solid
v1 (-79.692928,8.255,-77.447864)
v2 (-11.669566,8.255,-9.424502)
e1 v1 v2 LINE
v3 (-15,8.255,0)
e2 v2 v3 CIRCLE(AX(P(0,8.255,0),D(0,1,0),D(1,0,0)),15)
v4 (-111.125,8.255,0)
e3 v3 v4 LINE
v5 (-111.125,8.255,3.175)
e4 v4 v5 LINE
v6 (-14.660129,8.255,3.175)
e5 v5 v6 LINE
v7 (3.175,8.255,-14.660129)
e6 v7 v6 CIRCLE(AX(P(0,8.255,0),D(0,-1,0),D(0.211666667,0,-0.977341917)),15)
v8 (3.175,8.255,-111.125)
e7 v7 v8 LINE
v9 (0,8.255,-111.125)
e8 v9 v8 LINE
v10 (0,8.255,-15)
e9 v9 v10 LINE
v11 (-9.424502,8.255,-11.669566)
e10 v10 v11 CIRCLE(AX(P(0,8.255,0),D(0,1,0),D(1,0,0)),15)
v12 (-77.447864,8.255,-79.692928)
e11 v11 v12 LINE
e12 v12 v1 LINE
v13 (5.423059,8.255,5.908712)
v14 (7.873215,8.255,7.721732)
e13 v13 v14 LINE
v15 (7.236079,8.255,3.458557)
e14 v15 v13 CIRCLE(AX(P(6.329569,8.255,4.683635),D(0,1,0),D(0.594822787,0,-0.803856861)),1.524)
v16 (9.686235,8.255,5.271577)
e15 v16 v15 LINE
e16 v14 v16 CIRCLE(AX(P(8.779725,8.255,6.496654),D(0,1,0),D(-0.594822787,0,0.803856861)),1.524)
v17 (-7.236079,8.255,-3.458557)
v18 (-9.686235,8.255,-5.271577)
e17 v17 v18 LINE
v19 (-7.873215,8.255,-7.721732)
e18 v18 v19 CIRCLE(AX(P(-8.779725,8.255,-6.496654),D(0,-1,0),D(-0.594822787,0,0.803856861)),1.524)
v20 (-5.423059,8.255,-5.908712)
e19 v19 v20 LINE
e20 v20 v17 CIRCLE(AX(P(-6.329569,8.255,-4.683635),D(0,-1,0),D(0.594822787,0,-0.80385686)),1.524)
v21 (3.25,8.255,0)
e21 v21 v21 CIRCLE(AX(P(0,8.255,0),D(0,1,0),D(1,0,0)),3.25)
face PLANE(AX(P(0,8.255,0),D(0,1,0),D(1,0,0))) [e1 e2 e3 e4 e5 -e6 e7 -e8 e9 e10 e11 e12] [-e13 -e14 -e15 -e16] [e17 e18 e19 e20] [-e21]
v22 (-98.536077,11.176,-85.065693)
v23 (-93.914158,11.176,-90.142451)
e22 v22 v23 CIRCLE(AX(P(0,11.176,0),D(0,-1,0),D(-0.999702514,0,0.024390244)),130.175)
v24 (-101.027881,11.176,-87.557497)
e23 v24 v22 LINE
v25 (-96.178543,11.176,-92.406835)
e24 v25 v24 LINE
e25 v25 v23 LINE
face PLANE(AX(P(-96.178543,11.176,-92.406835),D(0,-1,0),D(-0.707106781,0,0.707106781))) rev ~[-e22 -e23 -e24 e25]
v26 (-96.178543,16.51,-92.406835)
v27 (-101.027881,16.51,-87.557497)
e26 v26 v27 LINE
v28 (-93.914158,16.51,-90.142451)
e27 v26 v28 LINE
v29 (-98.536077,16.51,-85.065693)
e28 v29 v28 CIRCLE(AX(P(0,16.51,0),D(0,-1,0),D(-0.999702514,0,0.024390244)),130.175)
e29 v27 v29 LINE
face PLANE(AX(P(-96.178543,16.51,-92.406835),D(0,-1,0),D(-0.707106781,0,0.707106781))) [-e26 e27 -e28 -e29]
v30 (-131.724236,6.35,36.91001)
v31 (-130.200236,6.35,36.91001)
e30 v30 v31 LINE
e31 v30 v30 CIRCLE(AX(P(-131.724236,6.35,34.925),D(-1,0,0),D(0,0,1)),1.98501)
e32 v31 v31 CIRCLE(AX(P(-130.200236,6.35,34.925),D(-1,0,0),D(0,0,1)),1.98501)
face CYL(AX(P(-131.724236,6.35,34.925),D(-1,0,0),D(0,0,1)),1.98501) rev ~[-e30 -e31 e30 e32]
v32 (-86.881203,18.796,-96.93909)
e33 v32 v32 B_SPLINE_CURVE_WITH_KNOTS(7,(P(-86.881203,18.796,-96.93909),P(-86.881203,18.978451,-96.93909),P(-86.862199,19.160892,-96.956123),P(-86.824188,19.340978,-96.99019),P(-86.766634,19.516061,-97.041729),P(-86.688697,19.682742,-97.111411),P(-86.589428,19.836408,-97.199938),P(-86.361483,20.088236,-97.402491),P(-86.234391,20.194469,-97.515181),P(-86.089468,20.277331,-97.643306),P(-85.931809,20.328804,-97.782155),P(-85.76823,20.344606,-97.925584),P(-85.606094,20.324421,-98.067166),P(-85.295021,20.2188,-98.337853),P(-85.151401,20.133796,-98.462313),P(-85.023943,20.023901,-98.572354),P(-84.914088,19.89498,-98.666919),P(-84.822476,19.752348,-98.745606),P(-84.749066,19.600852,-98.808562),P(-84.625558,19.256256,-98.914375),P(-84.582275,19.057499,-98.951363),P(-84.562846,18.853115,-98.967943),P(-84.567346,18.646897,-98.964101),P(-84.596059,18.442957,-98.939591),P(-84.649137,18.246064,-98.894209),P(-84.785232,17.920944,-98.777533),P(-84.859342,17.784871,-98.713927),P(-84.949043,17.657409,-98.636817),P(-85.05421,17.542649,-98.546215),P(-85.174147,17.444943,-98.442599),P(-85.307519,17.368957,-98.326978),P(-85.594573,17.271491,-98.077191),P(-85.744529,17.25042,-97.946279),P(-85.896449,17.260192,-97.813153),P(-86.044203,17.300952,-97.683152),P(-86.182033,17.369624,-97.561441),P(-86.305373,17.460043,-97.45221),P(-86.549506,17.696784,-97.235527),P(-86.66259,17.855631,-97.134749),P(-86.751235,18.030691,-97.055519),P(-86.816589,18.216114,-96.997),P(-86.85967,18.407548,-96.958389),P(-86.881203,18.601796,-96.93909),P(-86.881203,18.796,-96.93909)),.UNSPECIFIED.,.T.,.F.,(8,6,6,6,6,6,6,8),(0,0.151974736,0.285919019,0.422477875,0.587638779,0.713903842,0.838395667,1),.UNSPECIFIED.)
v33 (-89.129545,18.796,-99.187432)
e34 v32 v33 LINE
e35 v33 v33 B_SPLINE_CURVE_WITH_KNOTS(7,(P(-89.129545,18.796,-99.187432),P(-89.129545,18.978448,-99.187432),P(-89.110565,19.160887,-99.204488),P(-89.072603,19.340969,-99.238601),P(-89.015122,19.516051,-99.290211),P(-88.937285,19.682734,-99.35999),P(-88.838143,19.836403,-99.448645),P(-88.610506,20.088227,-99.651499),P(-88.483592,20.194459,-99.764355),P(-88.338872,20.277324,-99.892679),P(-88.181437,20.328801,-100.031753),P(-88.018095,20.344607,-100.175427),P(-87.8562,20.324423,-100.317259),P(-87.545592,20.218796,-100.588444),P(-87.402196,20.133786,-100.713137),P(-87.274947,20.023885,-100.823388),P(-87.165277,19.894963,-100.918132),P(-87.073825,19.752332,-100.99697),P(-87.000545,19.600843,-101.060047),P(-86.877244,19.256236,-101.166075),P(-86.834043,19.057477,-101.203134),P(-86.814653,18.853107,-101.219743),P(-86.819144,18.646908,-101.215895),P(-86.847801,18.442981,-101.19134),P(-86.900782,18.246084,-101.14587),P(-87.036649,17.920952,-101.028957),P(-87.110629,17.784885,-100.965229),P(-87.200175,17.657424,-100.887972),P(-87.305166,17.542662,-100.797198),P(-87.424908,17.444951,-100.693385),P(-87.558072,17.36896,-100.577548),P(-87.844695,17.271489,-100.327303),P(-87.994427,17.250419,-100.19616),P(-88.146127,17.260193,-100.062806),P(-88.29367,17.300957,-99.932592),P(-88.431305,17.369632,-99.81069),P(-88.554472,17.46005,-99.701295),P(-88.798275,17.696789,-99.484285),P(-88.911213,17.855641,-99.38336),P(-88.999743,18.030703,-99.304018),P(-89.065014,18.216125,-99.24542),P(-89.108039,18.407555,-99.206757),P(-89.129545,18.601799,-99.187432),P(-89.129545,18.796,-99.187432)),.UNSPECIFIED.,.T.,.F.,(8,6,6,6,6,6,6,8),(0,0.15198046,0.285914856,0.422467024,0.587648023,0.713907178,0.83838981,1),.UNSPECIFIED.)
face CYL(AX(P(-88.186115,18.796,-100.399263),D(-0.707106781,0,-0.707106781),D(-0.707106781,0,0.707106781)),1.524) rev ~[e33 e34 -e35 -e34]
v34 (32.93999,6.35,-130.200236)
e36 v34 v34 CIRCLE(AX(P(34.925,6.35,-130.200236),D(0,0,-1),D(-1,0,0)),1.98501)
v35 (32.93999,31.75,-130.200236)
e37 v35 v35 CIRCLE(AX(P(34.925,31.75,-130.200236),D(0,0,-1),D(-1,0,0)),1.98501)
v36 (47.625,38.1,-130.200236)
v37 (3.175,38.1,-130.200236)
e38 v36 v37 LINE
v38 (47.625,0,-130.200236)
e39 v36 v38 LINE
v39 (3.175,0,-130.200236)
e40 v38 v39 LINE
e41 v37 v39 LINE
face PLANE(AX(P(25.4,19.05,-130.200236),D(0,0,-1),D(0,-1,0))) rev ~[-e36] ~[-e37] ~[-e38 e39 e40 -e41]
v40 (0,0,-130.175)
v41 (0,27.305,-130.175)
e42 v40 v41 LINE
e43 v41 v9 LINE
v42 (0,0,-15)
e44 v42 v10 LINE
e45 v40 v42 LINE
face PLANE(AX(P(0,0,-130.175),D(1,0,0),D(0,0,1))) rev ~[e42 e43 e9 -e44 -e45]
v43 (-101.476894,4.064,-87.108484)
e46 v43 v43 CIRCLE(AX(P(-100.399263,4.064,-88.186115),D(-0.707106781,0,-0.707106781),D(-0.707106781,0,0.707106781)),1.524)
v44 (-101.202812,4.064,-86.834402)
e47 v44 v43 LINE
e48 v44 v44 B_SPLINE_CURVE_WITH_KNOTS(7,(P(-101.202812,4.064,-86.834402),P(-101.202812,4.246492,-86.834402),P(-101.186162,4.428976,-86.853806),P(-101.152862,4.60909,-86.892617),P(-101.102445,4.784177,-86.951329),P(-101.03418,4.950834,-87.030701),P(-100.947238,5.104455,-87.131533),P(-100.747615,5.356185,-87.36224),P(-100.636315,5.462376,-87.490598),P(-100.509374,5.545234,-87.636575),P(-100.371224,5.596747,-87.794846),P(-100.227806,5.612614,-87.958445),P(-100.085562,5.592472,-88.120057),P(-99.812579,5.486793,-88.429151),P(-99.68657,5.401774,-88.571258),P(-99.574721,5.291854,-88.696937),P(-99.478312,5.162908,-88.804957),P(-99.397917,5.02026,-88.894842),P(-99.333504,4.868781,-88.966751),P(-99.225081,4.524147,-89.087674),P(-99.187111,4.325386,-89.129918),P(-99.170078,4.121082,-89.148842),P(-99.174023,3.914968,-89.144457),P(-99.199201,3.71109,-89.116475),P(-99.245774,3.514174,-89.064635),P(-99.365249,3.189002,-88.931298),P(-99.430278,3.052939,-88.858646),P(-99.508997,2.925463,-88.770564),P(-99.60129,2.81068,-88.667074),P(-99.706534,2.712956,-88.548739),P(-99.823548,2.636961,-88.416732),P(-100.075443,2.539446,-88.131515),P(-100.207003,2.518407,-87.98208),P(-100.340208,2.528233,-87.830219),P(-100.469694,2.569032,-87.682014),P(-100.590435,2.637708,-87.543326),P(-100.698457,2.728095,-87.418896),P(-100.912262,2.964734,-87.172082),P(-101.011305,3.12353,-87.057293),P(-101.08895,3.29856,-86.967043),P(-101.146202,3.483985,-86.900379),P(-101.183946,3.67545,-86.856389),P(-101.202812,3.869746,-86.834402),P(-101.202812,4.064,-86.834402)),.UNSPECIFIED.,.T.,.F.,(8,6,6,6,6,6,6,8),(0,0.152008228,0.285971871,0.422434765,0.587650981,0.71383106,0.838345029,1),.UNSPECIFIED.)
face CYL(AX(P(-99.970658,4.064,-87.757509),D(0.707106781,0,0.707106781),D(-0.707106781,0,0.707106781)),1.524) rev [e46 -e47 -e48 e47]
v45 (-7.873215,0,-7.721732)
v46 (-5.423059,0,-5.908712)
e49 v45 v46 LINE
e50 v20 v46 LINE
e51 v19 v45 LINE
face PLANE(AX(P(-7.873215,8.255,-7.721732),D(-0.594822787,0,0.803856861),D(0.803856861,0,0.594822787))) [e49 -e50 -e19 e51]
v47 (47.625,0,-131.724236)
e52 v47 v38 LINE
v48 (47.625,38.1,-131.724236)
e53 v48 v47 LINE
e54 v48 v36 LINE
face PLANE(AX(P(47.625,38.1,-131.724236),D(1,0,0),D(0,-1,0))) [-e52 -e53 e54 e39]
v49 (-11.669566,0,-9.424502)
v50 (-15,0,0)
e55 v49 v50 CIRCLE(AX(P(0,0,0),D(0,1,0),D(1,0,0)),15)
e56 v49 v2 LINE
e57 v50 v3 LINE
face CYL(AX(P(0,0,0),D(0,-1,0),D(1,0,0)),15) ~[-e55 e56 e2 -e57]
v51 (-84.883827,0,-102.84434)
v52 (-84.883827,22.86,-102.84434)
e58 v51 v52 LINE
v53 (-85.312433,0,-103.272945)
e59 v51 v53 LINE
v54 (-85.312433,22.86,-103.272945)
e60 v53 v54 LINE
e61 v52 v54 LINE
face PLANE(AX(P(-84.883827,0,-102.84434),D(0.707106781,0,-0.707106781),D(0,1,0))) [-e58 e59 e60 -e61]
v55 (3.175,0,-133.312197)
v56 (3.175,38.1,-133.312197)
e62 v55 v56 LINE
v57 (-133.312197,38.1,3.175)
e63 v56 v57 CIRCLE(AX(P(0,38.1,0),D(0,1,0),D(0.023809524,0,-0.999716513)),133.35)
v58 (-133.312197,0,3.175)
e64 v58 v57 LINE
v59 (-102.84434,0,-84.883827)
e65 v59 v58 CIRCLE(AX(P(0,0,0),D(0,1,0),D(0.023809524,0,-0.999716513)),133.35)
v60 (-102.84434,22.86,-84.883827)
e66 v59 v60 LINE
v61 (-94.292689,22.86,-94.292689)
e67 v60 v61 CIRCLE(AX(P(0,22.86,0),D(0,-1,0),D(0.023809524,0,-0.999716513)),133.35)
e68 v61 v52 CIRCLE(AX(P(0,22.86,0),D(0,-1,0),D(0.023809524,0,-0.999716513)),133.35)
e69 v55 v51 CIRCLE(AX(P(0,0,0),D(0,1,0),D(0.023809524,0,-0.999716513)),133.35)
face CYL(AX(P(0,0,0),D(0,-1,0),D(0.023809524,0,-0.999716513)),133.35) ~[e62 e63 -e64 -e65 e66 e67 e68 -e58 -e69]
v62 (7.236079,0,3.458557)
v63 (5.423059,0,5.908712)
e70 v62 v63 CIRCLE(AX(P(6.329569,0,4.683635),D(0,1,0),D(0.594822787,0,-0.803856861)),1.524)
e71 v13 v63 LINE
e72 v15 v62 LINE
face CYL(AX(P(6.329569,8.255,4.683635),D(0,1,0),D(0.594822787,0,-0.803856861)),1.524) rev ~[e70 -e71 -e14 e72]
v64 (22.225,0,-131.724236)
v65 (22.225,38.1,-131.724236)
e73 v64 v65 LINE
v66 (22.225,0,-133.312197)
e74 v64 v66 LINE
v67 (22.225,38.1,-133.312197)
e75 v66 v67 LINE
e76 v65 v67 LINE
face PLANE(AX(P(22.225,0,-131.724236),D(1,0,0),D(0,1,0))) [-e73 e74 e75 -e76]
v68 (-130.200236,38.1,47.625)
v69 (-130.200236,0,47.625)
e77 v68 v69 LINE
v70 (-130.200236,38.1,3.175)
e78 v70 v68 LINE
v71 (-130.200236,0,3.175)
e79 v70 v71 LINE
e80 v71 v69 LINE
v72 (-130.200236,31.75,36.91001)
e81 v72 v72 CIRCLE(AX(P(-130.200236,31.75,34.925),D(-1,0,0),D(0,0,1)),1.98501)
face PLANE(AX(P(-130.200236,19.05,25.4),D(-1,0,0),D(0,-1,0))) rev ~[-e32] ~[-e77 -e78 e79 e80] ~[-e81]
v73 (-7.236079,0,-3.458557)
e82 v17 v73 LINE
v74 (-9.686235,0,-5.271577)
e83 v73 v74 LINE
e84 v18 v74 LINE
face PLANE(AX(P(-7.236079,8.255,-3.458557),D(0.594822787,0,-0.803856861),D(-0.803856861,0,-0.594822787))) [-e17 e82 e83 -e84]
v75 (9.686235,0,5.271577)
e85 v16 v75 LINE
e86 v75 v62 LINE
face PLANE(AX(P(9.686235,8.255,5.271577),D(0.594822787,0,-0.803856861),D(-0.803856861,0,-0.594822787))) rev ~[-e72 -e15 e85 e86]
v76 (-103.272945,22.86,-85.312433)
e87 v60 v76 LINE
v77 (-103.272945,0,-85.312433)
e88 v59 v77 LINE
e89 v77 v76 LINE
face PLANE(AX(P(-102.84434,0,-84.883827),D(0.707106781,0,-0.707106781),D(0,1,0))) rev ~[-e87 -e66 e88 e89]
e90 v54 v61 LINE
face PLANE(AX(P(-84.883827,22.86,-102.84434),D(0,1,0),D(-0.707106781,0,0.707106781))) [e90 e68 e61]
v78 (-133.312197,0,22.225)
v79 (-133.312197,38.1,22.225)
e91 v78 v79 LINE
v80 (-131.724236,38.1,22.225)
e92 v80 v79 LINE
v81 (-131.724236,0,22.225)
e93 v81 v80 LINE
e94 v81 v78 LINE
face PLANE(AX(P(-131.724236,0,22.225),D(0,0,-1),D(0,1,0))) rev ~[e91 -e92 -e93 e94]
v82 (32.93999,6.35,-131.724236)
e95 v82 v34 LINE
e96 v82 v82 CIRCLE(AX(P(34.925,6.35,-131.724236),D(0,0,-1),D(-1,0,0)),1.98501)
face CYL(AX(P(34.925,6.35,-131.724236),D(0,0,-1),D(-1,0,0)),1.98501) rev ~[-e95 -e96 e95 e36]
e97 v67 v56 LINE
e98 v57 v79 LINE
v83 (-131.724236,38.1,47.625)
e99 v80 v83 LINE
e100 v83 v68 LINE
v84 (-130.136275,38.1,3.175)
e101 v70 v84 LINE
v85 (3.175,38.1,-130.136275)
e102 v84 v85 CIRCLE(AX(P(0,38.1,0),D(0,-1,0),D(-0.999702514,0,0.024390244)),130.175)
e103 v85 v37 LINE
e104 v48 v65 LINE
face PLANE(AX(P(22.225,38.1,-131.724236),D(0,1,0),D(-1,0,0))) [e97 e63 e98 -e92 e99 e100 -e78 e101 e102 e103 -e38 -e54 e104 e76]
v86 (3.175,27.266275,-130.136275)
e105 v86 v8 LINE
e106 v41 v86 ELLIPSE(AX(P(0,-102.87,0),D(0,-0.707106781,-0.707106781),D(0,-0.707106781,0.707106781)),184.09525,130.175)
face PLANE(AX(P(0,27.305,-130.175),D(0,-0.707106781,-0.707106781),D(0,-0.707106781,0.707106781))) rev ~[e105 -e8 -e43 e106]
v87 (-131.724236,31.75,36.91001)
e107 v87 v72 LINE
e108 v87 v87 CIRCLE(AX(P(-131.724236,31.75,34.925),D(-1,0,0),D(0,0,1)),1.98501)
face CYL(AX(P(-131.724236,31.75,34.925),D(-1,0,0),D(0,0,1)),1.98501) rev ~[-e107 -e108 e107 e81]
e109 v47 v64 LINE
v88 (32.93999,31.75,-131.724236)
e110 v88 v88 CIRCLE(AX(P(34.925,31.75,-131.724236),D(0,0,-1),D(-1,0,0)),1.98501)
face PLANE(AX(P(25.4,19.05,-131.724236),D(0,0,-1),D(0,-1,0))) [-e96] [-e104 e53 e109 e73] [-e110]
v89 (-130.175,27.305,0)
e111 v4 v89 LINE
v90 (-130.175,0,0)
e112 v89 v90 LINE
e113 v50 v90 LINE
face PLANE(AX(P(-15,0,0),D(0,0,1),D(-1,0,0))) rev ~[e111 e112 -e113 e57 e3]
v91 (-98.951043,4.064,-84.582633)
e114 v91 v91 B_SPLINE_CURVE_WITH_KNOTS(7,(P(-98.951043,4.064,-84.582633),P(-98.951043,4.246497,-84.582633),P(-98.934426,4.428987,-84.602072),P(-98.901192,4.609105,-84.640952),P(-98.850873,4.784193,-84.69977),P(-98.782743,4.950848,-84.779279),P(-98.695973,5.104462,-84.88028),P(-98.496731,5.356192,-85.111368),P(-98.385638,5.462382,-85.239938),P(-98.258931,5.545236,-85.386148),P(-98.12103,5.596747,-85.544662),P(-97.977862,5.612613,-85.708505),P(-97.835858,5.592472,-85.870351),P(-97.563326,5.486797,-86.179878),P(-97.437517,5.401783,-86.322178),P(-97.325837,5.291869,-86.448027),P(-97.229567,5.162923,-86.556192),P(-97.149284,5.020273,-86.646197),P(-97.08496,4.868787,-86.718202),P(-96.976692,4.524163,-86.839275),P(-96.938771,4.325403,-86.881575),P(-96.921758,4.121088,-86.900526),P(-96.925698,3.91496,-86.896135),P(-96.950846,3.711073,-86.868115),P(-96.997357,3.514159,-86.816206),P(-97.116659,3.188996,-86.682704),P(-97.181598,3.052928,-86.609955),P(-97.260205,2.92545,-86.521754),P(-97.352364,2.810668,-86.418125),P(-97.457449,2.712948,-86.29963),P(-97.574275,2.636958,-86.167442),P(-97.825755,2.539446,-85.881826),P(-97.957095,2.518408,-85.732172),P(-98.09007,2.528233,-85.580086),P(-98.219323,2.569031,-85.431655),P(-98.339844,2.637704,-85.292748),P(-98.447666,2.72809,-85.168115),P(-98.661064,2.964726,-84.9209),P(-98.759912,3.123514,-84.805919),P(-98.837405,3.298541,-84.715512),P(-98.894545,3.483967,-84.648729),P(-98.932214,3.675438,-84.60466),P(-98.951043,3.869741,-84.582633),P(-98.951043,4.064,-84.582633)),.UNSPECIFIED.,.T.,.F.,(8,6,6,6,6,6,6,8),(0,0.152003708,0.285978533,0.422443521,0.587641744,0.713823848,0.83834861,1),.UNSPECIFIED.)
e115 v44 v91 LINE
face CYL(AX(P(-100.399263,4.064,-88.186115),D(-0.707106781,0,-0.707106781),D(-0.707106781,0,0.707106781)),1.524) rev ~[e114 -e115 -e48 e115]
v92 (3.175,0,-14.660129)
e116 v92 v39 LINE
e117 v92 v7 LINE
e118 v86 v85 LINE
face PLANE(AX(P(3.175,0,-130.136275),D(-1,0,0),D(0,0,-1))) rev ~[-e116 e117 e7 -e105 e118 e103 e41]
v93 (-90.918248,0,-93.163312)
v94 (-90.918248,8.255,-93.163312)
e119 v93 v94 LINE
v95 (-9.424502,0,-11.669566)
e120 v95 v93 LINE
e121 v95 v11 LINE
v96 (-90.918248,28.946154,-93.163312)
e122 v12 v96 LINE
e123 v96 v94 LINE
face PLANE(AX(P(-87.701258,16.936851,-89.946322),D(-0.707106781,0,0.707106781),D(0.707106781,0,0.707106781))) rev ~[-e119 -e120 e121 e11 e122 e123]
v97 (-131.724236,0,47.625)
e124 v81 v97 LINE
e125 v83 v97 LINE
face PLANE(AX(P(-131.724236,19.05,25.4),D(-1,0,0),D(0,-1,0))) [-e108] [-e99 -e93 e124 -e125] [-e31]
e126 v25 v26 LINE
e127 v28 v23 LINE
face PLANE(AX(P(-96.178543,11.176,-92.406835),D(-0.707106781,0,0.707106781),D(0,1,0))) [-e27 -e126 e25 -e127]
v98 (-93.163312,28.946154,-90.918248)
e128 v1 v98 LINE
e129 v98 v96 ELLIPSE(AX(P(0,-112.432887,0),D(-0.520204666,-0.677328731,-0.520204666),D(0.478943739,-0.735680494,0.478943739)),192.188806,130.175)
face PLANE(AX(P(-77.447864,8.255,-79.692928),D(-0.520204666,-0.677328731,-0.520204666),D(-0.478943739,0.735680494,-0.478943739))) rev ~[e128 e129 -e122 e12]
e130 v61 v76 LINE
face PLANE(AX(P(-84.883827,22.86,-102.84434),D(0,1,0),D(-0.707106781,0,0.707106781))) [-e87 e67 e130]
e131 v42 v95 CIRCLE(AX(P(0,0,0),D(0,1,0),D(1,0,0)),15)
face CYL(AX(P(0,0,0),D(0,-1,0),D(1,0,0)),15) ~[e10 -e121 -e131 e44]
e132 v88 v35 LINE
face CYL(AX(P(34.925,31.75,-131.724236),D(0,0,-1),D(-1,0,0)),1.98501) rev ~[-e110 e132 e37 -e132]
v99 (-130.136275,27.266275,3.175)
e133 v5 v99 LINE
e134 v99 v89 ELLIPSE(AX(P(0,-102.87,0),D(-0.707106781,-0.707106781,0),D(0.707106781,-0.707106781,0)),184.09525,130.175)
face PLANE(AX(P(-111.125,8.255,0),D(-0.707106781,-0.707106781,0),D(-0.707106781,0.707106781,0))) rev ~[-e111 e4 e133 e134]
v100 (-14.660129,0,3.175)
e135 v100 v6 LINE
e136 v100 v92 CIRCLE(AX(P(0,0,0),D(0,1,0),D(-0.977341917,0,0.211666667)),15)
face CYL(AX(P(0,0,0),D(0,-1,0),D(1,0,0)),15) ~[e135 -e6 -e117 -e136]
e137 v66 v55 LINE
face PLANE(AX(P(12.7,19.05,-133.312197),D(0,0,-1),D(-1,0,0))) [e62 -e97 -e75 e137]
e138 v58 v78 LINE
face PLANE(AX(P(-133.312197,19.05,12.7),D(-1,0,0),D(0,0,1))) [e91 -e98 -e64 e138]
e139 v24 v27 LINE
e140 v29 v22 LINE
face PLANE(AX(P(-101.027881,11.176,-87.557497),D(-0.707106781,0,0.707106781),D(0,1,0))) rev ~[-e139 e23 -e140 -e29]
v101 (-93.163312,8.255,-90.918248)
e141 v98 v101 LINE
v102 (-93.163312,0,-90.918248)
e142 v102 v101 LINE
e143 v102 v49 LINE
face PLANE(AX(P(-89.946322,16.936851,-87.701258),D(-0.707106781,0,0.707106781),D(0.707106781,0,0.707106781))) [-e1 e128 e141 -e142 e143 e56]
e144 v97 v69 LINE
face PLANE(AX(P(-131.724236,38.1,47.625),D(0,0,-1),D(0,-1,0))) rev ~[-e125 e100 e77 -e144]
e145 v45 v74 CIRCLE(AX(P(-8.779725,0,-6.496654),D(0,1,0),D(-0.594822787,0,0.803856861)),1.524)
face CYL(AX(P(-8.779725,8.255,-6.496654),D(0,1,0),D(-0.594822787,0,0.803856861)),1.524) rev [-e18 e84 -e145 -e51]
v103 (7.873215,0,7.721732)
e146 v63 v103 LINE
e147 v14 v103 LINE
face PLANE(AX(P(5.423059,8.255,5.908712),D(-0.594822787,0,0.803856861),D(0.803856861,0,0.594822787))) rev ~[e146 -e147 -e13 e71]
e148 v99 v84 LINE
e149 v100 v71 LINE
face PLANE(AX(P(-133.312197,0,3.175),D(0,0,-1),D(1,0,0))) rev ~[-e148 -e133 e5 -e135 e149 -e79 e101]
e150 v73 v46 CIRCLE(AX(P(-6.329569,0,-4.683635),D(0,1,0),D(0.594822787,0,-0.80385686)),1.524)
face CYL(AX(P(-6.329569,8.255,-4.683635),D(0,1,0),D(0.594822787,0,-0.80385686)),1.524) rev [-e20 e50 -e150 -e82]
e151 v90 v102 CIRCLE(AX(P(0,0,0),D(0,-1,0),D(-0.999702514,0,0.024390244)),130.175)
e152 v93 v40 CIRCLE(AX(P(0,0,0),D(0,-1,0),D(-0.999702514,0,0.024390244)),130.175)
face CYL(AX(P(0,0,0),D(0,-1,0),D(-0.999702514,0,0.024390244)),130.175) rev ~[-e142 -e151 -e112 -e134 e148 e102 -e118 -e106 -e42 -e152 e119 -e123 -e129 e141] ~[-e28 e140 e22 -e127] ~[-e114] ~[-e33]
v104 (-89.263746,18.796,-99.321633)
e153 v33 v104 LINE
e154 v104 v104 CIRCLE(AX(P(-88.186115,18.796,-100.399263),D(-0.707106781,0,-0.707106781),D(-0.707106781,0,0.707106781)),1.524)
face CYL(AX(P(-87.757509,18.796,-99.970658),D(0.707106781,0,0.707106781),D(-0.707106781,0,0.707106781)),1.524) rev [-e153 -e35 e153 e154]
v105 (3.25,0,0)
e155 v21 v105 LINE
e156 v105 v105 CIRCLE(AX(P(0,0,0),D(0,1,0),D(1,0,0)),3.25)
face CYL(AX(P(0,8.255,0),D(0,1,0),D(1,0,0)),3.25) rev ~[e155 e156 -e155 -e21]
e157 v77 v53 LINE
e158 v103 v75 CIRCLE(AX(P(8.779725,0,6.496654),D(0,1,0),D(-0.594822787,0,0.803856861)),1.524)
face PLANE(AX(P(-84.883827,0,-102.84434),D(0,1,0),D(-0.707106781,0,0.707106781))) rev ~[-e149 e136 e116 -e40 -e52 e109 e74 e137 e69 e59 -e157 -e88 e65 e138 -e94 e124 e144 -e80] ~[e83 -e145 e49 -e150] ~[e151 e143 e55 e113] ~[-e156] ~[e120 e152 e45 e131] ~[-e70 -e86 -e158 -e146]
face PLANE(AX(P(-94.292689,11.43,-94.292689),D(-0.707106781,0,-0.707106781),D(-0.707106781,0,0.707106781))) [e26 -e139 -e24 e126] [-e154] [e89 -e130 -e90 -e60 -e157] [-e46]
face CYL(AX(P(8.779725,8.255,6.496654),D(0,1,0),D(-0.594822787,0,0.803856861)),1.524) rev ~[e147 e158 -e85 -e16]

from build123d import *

# Parameters (mm, degrees)
SKETCH1_R            = 15
BOSS_EXTRUDE2_DEPTH  = 8.255
BOSS_EXTRUDE3_DEPTH  = 8.255
BOSS_EXTRUDE4_DEPTH  = 38.1
SKETCH5_R            = 3.249999977
CUT_EXTRUDE3_DEPTH   = 63.5
BOSS_EXTRUDE9_DEPTH  = 3.175
BOSS_EXTRUDE11_DEPTH = 3.175
BOSS_EXTRUDE14_DEPTH = 3.175
SKETCH15_W           = 38.1
SKETCH15_H           = 44.45
BOSS_EXTRUDE15_DEPTH = 1.524
SKETCH16_W           = 38.1
SKETCH16_H           = 44.45
BOSS_EXTRUDE16_DEPTH = 1.524
SKETCH17_R           = 1.98501
CUT_EXTRUDE4_DEPTH   = 2.54
SKETCH18_R           = 1.98501
CUT_EXTRUDE5_DEPTH   = 2.54
SKETCH19_W           = 19.05
SKETCH19_H           = 38.1
BOSS_EXTRUDE17_DEPTH = 1.587961
SKETCH20_W           = 19.05
SKETCH20_H           = 38.1
BOSS_EXTRUDE18_DEPTH = 1.587961
CUT_EXTRUDE6_REACH   = 202.702
SKETCH21_R           = 1.524
BOSS_EXTRUDE20_START = -0.60614
SKETCH21_3_W         = 25.4
SKETCH21_3_H         = 22.86
SKETCH21_3_R         = 1.524
BOSS_EXTRUDE20_DEPTH = 0.60614
CUT_EXTRUDE7_REACH   = 202.702
SKETCH26_W           = 6.858
SKETCH26_H           = 5.334


with BuildPart() as part:
    # Sketch1 → Boss-Extrude2 (new body)
    with BuildSketch(Plane(origin=(0, 0, 0), x_dir=(1, 0, 0), z_dir=(0, 1, 0))):
        Circle(SKETCH1_R)
    extrude(amount=BOSS_EXTRUDE2_DEPTH)

    # Sketch1<6> → Boss-Extrude3 (add)
    with BuildSketch(Plane(origin=(0, 0, 0), x_dir=(1, 0, 0), z_dir=(0, 1, 0))):
        with BuildLine():
            ThreePointArc((3.175, 130.136274728), (1.587618078, 130.165318322), (0, 130.175))
            Line((0, 130.175), (0, 15))
            ThreePointArc((0, 15), (1.596569562, 14.914790164), (3.175, 14.660128751))
            Line((3.175, 14.660128751), (3.175, 130.136274728))
        make_face()
        with BuildLine():
            Line((-9.42450178, 11.66956581), (-90.918248264, 93.163312294))
            ThreePointArc((-90.918248264, 93.163312294), (-92.047625241, 92.047625241), (-93.163312294, 90.918248264))
            Line((-93.163312294, 90.918248264), (-11.66956581, 9.42450178))
            ThreePointArc((-11.66956581, 9.42450178), (-10.606601718, 10.606601718), (-9.42450178, 11.66956581))
        make_face()
        with BuildLine():
            Line((-15, 0), (-130.175, 0))
            ThreePointArc((-130.175, 0), (-130.165318322, -1.587618078), (-130.136274728, -3.175))
            Line((-130.136274728, -3.175), (-14.660128751, -3.175))
            ThreePointArc((-14.660128751, -3.175), (-14.914790164, -1.596569562), (-15, 0))
        make_face()
    extrude(amount=BOSS_EXTRUDE3_DEPTH)

    # Sketch1<7> → Boss-Extrude4 (add)
    with BuildSketch(Plane(origin=(0, 0, 0), x_dir=(1, 0, 0), z_dir=(0, 1, 0))):
        with BuildLine():
            Line((3.175, 130.136274728), (3.175, 133.312197023))
            ThreePointArc((3.175, 133.312197023), (-94.292689271, 94.292689271), (-133.312197023, -3.175))
            Line((-133.312197023, -3.175), (-130.136274728, -3.175))
            ThreePointArc((-130.136274728, -3.175), (-92.047625241, 92.047625241), (3.175, 130.136274728))
        make_face()
    extrude(amount=BOSS_EXTRUDE4_DEPTH)

    # Sketch5 → Cut-Extrude3 (cut)
    with BuildSketch(Plane(origin=(0, 8.255, 0), x_dir=(1, 0, 0), z_dir=(0, 1, 0))):
        Circle(SKETCH5_R)
        with BuildLine():
            Line((-7.236078848, 3.458556767), (-9.686234559, 5.271576621))
            ThreePointArc((-9.686234559, 5.271576621), (-10.004802487, 7.403164404), (-7.873214705, 7.721732332))
            Line((-7.873214705, 7.721732332), (-5.423058993, 5.908712478))
            ThreePointArc((-5.423058993, 5.908712478), (-5.104491065, 3.777124696), (-7.236078848, 3.458556767))
        make_face()
        with BuildLine():
            Line((5.423058993, -5.908712478), (7.873214705, -7.721732332))
            ThreePointArc((7.873214705, -7.721732332), (10.004802487, -7.403164404), (9.686234559, -5.271576621))
            Line((9.686234559, -5.271576621), (7.236078848, -3.458556767))
            ThreePointArc((7.236078848, -3.458556767), (5.104491065, -3.777124696), (5.423058993, -5.908712478))
        make_face()
    extrude(amount=-CUT_EXTRUDE3_DEPTH, mode=Mode.SUBTRACT)

    # Sketch10 → Boss-Extrude9 (add)
    with BuildSketch(Plane(origin=(0, 0, 0), x_dir=(-1, 0, 0), z_dir=(0, 0, -1))):
        Polygon((130.175, 27.305), (130.175, 8.255), (111.125, 8.255), align=None)
    extrude(amount=-BOSS_EXTRUDE9_DEPTH)

    # Sketch13 → Boss-Extrude11 (add)
    with BuildSketch(Plane.ZY):
        Polygon((-130.175, 27.305), (-111.125, 8.255), (-130.175, 8.255), align=None)
    extrude(amount=-BOSS_EXTRUDE11_DEPTH)

    # Sketch14 → Boss-Extrude14 (add)
    with BuildSketch(Plane(origin=(1.122532015, 0, -1.122532015), x_dir=(-0.707106781, 0, -0.707106781), z_dir=(0.707106781, 0, -0.707106781))):
        Polygon((133.340319762, 8.255), (111.115319762, 8.255), (133.340319762, 32.394680238), align=None)
    extrude(amount=-BOSS_EXTRUDE14_DEPTH)

    # Sketch15 → Boss-Extrude15 (add)
    with BuildSketch(Plane(origin=(-131.724235875, 0, 0), x_dir=(0, -1, 0), z_dir=(-1, 0, 0))):
        with Locations((-19.05, 25.4)):
            Rectangle(SKETCH15_W, SKETCH15_H)
    extrude(amount=-BOSS_EXTRUDE15_DEPTH)

    # Sketch16 → Boss-Extrude16 (add)
    with BuildSketch(Plane(origin=(0, 0, -131.724235875), x_dir=(0, -1, 0), z_dir=(0, 0, -1))):
        with Locations((-19.05, -25.4)):
            Rectangle(SKETCH16_W, SKETCH16_H)
    extrude(amount=-BOSS_EXTRUDE16_DEPTH)

    # Sketch17 → Cut-Extrude4 (cut)
    with BuildSketch(Plane(origin=(0, 0, -131.724235875), x_dir=(-1, 0, 0), z_dir=(0, 0, -1))):
        with Locations((-34.925, 31.75)):
            Circle(SKETCH17_R)
        with Locations((-34.925, 6.35)):
            Circle(SKETCH17_R)
    extrude(amount=-CUT_EXTRUDE4_DEPTH, mode=Mode.SUBTRACT)

    # Sketch18 → Cut-Extrude5 (cut)
    with BuildSketch(Plane.ZY.offset(131.724235875)):
        with Locations((34.925, 31.75)):
            Circle(SKETCH18_R)
        with Locations((34.925, 6.35)):
            Circle(SKETCH18_R)
    extrude(amount=-CUT_EXTRUDE5_DEPTH, mode=Mode.SUBTRACT)

    # Sketch19 → Boss-Extrude17 (add)
    with BuildSketch(Plane.ZY.offset(131.724235875)):
        with Locations((12.7, 19.05)):
            Rectangle(SKETCH19_W, SKETCH19_H)
    extrude(amount=BOSS_EXTRUDE17_DEPTH)

    # Sketch20 → Boss-Extrude18 (add)
    with BuildSketch(Plane(origin=(0, 0, -131.724235875), x_dir=(-1, 0, 0), z_dir=(0, 0, -1))):
        with Locations((-12.7, 19.05)):
            Rectangle(SKETCH20_W, SKETCH20_H)
    extrude(amount=BOSS_EXTRUDE18_DEPTH)

    # Sketch21 → Cut-Extrude6 (cut, up to next)
    with BuildSketch(Plane(origin=(-94.292689271, 0, -94.292689271), x_dir=(-0.707106781, 0, 0.707106781), z_dir=(-0.707106781, 0, -0.707106781)), mode=Mode.PRIVATE) as cut_extrude6_sk1:
        with Locations((8.636, 4.064)):
            Circle(SKETCH21_R)
    cut_extrude6_tool1 = extrude(cut_extrude6_sk1.sketch, amount=-CUT_EXTRUDE6_REACH, mode=Mode.PRIVATE) & part.part
    add(cut_extrude6_tool1.solids().sort_by_distance((-100.399263, 4.064, -88.186115))[0], mode=Mode.SUBTRACT)
    # Sketch21 → Cut-Extrude6 (cut, up to next)
    with BuildSketch(Plane(origin=(-94.292689271, 0, -94.292689271), x_dir=(-0.707106781, 0, 0.707106781), z_dir=(-0.707106781, 0, -0.707106781)), mode=Mode.PRIVATE) as cut_extrude6_sk2:
        with Locations((-8.636, 18.796)):
            Circle(SKETCH21_R)
    cut_extrude6_tool2 = extrude(cut_extrude6_sk2.sketch, amount=-CUT_EXTRUDE6_REACH, mode=Mode.PRIVATE) & part.part
    add(cut_extrude6_tool2.solids().sort_by_distance((-88.186115, 18.796, -100.399263))[0], mode=Mode.SUBTRACT)

    # Sketch21<3> → Boss-Extrude20 (add)
    with BuildSketch(Plane(origin=(-94.292689271, 0, -94.292689271), x_dir=(-0.707106781, 0, 0.707106781), z_dir=(-0.707106781, 0, -0.707106781)).offset(BOSS_EXTRUDE20_START)):
        with Locations((0, 11.43)):
            Rectangle(SKETCH21_3_W, SKETCH21_3_H)
        with Locations((8.636, 4.064)):
            Circle(SKETCH21_3_R, mode=Mode.SUBTRACT)
        with Locations((-8.636, 18.796)):
            Circle(SKETCH21_3_R, mode=Mode.SUBTRACT)
    extrude(amount=BOSS_EXTRUDE20_DEPTH)

    # Sketch26 → Cut-Extrude7 (cut, up to next)
    with BuildSketch(Plane(origin=(-94.292689271, 0, -94.292689271), x_dir=(-0.707106781, 0, 0.707106781), z_dir=(-0.707106781, 0, -0.707106781)), mode=Mode.PRIVATE) as cut_extrude7_sk1:
        with Locations((6.096, 13.843)):
            Rectangle(SKETCH26_W, SKETCH26_H)
    cut_extrude7_tool1 = extrude(cut_extrude7_sk1.sketch, amount=-CUT_EXTRUDE7_REACH, mode=Mode.PRIVATE) & part.part
    add(cut_extrude7_tool1.solids().sort_by_distance((-98.603212, 13.843, -89.982166))[0], mode=Mode.SUBTRACT)


solid = part.part
